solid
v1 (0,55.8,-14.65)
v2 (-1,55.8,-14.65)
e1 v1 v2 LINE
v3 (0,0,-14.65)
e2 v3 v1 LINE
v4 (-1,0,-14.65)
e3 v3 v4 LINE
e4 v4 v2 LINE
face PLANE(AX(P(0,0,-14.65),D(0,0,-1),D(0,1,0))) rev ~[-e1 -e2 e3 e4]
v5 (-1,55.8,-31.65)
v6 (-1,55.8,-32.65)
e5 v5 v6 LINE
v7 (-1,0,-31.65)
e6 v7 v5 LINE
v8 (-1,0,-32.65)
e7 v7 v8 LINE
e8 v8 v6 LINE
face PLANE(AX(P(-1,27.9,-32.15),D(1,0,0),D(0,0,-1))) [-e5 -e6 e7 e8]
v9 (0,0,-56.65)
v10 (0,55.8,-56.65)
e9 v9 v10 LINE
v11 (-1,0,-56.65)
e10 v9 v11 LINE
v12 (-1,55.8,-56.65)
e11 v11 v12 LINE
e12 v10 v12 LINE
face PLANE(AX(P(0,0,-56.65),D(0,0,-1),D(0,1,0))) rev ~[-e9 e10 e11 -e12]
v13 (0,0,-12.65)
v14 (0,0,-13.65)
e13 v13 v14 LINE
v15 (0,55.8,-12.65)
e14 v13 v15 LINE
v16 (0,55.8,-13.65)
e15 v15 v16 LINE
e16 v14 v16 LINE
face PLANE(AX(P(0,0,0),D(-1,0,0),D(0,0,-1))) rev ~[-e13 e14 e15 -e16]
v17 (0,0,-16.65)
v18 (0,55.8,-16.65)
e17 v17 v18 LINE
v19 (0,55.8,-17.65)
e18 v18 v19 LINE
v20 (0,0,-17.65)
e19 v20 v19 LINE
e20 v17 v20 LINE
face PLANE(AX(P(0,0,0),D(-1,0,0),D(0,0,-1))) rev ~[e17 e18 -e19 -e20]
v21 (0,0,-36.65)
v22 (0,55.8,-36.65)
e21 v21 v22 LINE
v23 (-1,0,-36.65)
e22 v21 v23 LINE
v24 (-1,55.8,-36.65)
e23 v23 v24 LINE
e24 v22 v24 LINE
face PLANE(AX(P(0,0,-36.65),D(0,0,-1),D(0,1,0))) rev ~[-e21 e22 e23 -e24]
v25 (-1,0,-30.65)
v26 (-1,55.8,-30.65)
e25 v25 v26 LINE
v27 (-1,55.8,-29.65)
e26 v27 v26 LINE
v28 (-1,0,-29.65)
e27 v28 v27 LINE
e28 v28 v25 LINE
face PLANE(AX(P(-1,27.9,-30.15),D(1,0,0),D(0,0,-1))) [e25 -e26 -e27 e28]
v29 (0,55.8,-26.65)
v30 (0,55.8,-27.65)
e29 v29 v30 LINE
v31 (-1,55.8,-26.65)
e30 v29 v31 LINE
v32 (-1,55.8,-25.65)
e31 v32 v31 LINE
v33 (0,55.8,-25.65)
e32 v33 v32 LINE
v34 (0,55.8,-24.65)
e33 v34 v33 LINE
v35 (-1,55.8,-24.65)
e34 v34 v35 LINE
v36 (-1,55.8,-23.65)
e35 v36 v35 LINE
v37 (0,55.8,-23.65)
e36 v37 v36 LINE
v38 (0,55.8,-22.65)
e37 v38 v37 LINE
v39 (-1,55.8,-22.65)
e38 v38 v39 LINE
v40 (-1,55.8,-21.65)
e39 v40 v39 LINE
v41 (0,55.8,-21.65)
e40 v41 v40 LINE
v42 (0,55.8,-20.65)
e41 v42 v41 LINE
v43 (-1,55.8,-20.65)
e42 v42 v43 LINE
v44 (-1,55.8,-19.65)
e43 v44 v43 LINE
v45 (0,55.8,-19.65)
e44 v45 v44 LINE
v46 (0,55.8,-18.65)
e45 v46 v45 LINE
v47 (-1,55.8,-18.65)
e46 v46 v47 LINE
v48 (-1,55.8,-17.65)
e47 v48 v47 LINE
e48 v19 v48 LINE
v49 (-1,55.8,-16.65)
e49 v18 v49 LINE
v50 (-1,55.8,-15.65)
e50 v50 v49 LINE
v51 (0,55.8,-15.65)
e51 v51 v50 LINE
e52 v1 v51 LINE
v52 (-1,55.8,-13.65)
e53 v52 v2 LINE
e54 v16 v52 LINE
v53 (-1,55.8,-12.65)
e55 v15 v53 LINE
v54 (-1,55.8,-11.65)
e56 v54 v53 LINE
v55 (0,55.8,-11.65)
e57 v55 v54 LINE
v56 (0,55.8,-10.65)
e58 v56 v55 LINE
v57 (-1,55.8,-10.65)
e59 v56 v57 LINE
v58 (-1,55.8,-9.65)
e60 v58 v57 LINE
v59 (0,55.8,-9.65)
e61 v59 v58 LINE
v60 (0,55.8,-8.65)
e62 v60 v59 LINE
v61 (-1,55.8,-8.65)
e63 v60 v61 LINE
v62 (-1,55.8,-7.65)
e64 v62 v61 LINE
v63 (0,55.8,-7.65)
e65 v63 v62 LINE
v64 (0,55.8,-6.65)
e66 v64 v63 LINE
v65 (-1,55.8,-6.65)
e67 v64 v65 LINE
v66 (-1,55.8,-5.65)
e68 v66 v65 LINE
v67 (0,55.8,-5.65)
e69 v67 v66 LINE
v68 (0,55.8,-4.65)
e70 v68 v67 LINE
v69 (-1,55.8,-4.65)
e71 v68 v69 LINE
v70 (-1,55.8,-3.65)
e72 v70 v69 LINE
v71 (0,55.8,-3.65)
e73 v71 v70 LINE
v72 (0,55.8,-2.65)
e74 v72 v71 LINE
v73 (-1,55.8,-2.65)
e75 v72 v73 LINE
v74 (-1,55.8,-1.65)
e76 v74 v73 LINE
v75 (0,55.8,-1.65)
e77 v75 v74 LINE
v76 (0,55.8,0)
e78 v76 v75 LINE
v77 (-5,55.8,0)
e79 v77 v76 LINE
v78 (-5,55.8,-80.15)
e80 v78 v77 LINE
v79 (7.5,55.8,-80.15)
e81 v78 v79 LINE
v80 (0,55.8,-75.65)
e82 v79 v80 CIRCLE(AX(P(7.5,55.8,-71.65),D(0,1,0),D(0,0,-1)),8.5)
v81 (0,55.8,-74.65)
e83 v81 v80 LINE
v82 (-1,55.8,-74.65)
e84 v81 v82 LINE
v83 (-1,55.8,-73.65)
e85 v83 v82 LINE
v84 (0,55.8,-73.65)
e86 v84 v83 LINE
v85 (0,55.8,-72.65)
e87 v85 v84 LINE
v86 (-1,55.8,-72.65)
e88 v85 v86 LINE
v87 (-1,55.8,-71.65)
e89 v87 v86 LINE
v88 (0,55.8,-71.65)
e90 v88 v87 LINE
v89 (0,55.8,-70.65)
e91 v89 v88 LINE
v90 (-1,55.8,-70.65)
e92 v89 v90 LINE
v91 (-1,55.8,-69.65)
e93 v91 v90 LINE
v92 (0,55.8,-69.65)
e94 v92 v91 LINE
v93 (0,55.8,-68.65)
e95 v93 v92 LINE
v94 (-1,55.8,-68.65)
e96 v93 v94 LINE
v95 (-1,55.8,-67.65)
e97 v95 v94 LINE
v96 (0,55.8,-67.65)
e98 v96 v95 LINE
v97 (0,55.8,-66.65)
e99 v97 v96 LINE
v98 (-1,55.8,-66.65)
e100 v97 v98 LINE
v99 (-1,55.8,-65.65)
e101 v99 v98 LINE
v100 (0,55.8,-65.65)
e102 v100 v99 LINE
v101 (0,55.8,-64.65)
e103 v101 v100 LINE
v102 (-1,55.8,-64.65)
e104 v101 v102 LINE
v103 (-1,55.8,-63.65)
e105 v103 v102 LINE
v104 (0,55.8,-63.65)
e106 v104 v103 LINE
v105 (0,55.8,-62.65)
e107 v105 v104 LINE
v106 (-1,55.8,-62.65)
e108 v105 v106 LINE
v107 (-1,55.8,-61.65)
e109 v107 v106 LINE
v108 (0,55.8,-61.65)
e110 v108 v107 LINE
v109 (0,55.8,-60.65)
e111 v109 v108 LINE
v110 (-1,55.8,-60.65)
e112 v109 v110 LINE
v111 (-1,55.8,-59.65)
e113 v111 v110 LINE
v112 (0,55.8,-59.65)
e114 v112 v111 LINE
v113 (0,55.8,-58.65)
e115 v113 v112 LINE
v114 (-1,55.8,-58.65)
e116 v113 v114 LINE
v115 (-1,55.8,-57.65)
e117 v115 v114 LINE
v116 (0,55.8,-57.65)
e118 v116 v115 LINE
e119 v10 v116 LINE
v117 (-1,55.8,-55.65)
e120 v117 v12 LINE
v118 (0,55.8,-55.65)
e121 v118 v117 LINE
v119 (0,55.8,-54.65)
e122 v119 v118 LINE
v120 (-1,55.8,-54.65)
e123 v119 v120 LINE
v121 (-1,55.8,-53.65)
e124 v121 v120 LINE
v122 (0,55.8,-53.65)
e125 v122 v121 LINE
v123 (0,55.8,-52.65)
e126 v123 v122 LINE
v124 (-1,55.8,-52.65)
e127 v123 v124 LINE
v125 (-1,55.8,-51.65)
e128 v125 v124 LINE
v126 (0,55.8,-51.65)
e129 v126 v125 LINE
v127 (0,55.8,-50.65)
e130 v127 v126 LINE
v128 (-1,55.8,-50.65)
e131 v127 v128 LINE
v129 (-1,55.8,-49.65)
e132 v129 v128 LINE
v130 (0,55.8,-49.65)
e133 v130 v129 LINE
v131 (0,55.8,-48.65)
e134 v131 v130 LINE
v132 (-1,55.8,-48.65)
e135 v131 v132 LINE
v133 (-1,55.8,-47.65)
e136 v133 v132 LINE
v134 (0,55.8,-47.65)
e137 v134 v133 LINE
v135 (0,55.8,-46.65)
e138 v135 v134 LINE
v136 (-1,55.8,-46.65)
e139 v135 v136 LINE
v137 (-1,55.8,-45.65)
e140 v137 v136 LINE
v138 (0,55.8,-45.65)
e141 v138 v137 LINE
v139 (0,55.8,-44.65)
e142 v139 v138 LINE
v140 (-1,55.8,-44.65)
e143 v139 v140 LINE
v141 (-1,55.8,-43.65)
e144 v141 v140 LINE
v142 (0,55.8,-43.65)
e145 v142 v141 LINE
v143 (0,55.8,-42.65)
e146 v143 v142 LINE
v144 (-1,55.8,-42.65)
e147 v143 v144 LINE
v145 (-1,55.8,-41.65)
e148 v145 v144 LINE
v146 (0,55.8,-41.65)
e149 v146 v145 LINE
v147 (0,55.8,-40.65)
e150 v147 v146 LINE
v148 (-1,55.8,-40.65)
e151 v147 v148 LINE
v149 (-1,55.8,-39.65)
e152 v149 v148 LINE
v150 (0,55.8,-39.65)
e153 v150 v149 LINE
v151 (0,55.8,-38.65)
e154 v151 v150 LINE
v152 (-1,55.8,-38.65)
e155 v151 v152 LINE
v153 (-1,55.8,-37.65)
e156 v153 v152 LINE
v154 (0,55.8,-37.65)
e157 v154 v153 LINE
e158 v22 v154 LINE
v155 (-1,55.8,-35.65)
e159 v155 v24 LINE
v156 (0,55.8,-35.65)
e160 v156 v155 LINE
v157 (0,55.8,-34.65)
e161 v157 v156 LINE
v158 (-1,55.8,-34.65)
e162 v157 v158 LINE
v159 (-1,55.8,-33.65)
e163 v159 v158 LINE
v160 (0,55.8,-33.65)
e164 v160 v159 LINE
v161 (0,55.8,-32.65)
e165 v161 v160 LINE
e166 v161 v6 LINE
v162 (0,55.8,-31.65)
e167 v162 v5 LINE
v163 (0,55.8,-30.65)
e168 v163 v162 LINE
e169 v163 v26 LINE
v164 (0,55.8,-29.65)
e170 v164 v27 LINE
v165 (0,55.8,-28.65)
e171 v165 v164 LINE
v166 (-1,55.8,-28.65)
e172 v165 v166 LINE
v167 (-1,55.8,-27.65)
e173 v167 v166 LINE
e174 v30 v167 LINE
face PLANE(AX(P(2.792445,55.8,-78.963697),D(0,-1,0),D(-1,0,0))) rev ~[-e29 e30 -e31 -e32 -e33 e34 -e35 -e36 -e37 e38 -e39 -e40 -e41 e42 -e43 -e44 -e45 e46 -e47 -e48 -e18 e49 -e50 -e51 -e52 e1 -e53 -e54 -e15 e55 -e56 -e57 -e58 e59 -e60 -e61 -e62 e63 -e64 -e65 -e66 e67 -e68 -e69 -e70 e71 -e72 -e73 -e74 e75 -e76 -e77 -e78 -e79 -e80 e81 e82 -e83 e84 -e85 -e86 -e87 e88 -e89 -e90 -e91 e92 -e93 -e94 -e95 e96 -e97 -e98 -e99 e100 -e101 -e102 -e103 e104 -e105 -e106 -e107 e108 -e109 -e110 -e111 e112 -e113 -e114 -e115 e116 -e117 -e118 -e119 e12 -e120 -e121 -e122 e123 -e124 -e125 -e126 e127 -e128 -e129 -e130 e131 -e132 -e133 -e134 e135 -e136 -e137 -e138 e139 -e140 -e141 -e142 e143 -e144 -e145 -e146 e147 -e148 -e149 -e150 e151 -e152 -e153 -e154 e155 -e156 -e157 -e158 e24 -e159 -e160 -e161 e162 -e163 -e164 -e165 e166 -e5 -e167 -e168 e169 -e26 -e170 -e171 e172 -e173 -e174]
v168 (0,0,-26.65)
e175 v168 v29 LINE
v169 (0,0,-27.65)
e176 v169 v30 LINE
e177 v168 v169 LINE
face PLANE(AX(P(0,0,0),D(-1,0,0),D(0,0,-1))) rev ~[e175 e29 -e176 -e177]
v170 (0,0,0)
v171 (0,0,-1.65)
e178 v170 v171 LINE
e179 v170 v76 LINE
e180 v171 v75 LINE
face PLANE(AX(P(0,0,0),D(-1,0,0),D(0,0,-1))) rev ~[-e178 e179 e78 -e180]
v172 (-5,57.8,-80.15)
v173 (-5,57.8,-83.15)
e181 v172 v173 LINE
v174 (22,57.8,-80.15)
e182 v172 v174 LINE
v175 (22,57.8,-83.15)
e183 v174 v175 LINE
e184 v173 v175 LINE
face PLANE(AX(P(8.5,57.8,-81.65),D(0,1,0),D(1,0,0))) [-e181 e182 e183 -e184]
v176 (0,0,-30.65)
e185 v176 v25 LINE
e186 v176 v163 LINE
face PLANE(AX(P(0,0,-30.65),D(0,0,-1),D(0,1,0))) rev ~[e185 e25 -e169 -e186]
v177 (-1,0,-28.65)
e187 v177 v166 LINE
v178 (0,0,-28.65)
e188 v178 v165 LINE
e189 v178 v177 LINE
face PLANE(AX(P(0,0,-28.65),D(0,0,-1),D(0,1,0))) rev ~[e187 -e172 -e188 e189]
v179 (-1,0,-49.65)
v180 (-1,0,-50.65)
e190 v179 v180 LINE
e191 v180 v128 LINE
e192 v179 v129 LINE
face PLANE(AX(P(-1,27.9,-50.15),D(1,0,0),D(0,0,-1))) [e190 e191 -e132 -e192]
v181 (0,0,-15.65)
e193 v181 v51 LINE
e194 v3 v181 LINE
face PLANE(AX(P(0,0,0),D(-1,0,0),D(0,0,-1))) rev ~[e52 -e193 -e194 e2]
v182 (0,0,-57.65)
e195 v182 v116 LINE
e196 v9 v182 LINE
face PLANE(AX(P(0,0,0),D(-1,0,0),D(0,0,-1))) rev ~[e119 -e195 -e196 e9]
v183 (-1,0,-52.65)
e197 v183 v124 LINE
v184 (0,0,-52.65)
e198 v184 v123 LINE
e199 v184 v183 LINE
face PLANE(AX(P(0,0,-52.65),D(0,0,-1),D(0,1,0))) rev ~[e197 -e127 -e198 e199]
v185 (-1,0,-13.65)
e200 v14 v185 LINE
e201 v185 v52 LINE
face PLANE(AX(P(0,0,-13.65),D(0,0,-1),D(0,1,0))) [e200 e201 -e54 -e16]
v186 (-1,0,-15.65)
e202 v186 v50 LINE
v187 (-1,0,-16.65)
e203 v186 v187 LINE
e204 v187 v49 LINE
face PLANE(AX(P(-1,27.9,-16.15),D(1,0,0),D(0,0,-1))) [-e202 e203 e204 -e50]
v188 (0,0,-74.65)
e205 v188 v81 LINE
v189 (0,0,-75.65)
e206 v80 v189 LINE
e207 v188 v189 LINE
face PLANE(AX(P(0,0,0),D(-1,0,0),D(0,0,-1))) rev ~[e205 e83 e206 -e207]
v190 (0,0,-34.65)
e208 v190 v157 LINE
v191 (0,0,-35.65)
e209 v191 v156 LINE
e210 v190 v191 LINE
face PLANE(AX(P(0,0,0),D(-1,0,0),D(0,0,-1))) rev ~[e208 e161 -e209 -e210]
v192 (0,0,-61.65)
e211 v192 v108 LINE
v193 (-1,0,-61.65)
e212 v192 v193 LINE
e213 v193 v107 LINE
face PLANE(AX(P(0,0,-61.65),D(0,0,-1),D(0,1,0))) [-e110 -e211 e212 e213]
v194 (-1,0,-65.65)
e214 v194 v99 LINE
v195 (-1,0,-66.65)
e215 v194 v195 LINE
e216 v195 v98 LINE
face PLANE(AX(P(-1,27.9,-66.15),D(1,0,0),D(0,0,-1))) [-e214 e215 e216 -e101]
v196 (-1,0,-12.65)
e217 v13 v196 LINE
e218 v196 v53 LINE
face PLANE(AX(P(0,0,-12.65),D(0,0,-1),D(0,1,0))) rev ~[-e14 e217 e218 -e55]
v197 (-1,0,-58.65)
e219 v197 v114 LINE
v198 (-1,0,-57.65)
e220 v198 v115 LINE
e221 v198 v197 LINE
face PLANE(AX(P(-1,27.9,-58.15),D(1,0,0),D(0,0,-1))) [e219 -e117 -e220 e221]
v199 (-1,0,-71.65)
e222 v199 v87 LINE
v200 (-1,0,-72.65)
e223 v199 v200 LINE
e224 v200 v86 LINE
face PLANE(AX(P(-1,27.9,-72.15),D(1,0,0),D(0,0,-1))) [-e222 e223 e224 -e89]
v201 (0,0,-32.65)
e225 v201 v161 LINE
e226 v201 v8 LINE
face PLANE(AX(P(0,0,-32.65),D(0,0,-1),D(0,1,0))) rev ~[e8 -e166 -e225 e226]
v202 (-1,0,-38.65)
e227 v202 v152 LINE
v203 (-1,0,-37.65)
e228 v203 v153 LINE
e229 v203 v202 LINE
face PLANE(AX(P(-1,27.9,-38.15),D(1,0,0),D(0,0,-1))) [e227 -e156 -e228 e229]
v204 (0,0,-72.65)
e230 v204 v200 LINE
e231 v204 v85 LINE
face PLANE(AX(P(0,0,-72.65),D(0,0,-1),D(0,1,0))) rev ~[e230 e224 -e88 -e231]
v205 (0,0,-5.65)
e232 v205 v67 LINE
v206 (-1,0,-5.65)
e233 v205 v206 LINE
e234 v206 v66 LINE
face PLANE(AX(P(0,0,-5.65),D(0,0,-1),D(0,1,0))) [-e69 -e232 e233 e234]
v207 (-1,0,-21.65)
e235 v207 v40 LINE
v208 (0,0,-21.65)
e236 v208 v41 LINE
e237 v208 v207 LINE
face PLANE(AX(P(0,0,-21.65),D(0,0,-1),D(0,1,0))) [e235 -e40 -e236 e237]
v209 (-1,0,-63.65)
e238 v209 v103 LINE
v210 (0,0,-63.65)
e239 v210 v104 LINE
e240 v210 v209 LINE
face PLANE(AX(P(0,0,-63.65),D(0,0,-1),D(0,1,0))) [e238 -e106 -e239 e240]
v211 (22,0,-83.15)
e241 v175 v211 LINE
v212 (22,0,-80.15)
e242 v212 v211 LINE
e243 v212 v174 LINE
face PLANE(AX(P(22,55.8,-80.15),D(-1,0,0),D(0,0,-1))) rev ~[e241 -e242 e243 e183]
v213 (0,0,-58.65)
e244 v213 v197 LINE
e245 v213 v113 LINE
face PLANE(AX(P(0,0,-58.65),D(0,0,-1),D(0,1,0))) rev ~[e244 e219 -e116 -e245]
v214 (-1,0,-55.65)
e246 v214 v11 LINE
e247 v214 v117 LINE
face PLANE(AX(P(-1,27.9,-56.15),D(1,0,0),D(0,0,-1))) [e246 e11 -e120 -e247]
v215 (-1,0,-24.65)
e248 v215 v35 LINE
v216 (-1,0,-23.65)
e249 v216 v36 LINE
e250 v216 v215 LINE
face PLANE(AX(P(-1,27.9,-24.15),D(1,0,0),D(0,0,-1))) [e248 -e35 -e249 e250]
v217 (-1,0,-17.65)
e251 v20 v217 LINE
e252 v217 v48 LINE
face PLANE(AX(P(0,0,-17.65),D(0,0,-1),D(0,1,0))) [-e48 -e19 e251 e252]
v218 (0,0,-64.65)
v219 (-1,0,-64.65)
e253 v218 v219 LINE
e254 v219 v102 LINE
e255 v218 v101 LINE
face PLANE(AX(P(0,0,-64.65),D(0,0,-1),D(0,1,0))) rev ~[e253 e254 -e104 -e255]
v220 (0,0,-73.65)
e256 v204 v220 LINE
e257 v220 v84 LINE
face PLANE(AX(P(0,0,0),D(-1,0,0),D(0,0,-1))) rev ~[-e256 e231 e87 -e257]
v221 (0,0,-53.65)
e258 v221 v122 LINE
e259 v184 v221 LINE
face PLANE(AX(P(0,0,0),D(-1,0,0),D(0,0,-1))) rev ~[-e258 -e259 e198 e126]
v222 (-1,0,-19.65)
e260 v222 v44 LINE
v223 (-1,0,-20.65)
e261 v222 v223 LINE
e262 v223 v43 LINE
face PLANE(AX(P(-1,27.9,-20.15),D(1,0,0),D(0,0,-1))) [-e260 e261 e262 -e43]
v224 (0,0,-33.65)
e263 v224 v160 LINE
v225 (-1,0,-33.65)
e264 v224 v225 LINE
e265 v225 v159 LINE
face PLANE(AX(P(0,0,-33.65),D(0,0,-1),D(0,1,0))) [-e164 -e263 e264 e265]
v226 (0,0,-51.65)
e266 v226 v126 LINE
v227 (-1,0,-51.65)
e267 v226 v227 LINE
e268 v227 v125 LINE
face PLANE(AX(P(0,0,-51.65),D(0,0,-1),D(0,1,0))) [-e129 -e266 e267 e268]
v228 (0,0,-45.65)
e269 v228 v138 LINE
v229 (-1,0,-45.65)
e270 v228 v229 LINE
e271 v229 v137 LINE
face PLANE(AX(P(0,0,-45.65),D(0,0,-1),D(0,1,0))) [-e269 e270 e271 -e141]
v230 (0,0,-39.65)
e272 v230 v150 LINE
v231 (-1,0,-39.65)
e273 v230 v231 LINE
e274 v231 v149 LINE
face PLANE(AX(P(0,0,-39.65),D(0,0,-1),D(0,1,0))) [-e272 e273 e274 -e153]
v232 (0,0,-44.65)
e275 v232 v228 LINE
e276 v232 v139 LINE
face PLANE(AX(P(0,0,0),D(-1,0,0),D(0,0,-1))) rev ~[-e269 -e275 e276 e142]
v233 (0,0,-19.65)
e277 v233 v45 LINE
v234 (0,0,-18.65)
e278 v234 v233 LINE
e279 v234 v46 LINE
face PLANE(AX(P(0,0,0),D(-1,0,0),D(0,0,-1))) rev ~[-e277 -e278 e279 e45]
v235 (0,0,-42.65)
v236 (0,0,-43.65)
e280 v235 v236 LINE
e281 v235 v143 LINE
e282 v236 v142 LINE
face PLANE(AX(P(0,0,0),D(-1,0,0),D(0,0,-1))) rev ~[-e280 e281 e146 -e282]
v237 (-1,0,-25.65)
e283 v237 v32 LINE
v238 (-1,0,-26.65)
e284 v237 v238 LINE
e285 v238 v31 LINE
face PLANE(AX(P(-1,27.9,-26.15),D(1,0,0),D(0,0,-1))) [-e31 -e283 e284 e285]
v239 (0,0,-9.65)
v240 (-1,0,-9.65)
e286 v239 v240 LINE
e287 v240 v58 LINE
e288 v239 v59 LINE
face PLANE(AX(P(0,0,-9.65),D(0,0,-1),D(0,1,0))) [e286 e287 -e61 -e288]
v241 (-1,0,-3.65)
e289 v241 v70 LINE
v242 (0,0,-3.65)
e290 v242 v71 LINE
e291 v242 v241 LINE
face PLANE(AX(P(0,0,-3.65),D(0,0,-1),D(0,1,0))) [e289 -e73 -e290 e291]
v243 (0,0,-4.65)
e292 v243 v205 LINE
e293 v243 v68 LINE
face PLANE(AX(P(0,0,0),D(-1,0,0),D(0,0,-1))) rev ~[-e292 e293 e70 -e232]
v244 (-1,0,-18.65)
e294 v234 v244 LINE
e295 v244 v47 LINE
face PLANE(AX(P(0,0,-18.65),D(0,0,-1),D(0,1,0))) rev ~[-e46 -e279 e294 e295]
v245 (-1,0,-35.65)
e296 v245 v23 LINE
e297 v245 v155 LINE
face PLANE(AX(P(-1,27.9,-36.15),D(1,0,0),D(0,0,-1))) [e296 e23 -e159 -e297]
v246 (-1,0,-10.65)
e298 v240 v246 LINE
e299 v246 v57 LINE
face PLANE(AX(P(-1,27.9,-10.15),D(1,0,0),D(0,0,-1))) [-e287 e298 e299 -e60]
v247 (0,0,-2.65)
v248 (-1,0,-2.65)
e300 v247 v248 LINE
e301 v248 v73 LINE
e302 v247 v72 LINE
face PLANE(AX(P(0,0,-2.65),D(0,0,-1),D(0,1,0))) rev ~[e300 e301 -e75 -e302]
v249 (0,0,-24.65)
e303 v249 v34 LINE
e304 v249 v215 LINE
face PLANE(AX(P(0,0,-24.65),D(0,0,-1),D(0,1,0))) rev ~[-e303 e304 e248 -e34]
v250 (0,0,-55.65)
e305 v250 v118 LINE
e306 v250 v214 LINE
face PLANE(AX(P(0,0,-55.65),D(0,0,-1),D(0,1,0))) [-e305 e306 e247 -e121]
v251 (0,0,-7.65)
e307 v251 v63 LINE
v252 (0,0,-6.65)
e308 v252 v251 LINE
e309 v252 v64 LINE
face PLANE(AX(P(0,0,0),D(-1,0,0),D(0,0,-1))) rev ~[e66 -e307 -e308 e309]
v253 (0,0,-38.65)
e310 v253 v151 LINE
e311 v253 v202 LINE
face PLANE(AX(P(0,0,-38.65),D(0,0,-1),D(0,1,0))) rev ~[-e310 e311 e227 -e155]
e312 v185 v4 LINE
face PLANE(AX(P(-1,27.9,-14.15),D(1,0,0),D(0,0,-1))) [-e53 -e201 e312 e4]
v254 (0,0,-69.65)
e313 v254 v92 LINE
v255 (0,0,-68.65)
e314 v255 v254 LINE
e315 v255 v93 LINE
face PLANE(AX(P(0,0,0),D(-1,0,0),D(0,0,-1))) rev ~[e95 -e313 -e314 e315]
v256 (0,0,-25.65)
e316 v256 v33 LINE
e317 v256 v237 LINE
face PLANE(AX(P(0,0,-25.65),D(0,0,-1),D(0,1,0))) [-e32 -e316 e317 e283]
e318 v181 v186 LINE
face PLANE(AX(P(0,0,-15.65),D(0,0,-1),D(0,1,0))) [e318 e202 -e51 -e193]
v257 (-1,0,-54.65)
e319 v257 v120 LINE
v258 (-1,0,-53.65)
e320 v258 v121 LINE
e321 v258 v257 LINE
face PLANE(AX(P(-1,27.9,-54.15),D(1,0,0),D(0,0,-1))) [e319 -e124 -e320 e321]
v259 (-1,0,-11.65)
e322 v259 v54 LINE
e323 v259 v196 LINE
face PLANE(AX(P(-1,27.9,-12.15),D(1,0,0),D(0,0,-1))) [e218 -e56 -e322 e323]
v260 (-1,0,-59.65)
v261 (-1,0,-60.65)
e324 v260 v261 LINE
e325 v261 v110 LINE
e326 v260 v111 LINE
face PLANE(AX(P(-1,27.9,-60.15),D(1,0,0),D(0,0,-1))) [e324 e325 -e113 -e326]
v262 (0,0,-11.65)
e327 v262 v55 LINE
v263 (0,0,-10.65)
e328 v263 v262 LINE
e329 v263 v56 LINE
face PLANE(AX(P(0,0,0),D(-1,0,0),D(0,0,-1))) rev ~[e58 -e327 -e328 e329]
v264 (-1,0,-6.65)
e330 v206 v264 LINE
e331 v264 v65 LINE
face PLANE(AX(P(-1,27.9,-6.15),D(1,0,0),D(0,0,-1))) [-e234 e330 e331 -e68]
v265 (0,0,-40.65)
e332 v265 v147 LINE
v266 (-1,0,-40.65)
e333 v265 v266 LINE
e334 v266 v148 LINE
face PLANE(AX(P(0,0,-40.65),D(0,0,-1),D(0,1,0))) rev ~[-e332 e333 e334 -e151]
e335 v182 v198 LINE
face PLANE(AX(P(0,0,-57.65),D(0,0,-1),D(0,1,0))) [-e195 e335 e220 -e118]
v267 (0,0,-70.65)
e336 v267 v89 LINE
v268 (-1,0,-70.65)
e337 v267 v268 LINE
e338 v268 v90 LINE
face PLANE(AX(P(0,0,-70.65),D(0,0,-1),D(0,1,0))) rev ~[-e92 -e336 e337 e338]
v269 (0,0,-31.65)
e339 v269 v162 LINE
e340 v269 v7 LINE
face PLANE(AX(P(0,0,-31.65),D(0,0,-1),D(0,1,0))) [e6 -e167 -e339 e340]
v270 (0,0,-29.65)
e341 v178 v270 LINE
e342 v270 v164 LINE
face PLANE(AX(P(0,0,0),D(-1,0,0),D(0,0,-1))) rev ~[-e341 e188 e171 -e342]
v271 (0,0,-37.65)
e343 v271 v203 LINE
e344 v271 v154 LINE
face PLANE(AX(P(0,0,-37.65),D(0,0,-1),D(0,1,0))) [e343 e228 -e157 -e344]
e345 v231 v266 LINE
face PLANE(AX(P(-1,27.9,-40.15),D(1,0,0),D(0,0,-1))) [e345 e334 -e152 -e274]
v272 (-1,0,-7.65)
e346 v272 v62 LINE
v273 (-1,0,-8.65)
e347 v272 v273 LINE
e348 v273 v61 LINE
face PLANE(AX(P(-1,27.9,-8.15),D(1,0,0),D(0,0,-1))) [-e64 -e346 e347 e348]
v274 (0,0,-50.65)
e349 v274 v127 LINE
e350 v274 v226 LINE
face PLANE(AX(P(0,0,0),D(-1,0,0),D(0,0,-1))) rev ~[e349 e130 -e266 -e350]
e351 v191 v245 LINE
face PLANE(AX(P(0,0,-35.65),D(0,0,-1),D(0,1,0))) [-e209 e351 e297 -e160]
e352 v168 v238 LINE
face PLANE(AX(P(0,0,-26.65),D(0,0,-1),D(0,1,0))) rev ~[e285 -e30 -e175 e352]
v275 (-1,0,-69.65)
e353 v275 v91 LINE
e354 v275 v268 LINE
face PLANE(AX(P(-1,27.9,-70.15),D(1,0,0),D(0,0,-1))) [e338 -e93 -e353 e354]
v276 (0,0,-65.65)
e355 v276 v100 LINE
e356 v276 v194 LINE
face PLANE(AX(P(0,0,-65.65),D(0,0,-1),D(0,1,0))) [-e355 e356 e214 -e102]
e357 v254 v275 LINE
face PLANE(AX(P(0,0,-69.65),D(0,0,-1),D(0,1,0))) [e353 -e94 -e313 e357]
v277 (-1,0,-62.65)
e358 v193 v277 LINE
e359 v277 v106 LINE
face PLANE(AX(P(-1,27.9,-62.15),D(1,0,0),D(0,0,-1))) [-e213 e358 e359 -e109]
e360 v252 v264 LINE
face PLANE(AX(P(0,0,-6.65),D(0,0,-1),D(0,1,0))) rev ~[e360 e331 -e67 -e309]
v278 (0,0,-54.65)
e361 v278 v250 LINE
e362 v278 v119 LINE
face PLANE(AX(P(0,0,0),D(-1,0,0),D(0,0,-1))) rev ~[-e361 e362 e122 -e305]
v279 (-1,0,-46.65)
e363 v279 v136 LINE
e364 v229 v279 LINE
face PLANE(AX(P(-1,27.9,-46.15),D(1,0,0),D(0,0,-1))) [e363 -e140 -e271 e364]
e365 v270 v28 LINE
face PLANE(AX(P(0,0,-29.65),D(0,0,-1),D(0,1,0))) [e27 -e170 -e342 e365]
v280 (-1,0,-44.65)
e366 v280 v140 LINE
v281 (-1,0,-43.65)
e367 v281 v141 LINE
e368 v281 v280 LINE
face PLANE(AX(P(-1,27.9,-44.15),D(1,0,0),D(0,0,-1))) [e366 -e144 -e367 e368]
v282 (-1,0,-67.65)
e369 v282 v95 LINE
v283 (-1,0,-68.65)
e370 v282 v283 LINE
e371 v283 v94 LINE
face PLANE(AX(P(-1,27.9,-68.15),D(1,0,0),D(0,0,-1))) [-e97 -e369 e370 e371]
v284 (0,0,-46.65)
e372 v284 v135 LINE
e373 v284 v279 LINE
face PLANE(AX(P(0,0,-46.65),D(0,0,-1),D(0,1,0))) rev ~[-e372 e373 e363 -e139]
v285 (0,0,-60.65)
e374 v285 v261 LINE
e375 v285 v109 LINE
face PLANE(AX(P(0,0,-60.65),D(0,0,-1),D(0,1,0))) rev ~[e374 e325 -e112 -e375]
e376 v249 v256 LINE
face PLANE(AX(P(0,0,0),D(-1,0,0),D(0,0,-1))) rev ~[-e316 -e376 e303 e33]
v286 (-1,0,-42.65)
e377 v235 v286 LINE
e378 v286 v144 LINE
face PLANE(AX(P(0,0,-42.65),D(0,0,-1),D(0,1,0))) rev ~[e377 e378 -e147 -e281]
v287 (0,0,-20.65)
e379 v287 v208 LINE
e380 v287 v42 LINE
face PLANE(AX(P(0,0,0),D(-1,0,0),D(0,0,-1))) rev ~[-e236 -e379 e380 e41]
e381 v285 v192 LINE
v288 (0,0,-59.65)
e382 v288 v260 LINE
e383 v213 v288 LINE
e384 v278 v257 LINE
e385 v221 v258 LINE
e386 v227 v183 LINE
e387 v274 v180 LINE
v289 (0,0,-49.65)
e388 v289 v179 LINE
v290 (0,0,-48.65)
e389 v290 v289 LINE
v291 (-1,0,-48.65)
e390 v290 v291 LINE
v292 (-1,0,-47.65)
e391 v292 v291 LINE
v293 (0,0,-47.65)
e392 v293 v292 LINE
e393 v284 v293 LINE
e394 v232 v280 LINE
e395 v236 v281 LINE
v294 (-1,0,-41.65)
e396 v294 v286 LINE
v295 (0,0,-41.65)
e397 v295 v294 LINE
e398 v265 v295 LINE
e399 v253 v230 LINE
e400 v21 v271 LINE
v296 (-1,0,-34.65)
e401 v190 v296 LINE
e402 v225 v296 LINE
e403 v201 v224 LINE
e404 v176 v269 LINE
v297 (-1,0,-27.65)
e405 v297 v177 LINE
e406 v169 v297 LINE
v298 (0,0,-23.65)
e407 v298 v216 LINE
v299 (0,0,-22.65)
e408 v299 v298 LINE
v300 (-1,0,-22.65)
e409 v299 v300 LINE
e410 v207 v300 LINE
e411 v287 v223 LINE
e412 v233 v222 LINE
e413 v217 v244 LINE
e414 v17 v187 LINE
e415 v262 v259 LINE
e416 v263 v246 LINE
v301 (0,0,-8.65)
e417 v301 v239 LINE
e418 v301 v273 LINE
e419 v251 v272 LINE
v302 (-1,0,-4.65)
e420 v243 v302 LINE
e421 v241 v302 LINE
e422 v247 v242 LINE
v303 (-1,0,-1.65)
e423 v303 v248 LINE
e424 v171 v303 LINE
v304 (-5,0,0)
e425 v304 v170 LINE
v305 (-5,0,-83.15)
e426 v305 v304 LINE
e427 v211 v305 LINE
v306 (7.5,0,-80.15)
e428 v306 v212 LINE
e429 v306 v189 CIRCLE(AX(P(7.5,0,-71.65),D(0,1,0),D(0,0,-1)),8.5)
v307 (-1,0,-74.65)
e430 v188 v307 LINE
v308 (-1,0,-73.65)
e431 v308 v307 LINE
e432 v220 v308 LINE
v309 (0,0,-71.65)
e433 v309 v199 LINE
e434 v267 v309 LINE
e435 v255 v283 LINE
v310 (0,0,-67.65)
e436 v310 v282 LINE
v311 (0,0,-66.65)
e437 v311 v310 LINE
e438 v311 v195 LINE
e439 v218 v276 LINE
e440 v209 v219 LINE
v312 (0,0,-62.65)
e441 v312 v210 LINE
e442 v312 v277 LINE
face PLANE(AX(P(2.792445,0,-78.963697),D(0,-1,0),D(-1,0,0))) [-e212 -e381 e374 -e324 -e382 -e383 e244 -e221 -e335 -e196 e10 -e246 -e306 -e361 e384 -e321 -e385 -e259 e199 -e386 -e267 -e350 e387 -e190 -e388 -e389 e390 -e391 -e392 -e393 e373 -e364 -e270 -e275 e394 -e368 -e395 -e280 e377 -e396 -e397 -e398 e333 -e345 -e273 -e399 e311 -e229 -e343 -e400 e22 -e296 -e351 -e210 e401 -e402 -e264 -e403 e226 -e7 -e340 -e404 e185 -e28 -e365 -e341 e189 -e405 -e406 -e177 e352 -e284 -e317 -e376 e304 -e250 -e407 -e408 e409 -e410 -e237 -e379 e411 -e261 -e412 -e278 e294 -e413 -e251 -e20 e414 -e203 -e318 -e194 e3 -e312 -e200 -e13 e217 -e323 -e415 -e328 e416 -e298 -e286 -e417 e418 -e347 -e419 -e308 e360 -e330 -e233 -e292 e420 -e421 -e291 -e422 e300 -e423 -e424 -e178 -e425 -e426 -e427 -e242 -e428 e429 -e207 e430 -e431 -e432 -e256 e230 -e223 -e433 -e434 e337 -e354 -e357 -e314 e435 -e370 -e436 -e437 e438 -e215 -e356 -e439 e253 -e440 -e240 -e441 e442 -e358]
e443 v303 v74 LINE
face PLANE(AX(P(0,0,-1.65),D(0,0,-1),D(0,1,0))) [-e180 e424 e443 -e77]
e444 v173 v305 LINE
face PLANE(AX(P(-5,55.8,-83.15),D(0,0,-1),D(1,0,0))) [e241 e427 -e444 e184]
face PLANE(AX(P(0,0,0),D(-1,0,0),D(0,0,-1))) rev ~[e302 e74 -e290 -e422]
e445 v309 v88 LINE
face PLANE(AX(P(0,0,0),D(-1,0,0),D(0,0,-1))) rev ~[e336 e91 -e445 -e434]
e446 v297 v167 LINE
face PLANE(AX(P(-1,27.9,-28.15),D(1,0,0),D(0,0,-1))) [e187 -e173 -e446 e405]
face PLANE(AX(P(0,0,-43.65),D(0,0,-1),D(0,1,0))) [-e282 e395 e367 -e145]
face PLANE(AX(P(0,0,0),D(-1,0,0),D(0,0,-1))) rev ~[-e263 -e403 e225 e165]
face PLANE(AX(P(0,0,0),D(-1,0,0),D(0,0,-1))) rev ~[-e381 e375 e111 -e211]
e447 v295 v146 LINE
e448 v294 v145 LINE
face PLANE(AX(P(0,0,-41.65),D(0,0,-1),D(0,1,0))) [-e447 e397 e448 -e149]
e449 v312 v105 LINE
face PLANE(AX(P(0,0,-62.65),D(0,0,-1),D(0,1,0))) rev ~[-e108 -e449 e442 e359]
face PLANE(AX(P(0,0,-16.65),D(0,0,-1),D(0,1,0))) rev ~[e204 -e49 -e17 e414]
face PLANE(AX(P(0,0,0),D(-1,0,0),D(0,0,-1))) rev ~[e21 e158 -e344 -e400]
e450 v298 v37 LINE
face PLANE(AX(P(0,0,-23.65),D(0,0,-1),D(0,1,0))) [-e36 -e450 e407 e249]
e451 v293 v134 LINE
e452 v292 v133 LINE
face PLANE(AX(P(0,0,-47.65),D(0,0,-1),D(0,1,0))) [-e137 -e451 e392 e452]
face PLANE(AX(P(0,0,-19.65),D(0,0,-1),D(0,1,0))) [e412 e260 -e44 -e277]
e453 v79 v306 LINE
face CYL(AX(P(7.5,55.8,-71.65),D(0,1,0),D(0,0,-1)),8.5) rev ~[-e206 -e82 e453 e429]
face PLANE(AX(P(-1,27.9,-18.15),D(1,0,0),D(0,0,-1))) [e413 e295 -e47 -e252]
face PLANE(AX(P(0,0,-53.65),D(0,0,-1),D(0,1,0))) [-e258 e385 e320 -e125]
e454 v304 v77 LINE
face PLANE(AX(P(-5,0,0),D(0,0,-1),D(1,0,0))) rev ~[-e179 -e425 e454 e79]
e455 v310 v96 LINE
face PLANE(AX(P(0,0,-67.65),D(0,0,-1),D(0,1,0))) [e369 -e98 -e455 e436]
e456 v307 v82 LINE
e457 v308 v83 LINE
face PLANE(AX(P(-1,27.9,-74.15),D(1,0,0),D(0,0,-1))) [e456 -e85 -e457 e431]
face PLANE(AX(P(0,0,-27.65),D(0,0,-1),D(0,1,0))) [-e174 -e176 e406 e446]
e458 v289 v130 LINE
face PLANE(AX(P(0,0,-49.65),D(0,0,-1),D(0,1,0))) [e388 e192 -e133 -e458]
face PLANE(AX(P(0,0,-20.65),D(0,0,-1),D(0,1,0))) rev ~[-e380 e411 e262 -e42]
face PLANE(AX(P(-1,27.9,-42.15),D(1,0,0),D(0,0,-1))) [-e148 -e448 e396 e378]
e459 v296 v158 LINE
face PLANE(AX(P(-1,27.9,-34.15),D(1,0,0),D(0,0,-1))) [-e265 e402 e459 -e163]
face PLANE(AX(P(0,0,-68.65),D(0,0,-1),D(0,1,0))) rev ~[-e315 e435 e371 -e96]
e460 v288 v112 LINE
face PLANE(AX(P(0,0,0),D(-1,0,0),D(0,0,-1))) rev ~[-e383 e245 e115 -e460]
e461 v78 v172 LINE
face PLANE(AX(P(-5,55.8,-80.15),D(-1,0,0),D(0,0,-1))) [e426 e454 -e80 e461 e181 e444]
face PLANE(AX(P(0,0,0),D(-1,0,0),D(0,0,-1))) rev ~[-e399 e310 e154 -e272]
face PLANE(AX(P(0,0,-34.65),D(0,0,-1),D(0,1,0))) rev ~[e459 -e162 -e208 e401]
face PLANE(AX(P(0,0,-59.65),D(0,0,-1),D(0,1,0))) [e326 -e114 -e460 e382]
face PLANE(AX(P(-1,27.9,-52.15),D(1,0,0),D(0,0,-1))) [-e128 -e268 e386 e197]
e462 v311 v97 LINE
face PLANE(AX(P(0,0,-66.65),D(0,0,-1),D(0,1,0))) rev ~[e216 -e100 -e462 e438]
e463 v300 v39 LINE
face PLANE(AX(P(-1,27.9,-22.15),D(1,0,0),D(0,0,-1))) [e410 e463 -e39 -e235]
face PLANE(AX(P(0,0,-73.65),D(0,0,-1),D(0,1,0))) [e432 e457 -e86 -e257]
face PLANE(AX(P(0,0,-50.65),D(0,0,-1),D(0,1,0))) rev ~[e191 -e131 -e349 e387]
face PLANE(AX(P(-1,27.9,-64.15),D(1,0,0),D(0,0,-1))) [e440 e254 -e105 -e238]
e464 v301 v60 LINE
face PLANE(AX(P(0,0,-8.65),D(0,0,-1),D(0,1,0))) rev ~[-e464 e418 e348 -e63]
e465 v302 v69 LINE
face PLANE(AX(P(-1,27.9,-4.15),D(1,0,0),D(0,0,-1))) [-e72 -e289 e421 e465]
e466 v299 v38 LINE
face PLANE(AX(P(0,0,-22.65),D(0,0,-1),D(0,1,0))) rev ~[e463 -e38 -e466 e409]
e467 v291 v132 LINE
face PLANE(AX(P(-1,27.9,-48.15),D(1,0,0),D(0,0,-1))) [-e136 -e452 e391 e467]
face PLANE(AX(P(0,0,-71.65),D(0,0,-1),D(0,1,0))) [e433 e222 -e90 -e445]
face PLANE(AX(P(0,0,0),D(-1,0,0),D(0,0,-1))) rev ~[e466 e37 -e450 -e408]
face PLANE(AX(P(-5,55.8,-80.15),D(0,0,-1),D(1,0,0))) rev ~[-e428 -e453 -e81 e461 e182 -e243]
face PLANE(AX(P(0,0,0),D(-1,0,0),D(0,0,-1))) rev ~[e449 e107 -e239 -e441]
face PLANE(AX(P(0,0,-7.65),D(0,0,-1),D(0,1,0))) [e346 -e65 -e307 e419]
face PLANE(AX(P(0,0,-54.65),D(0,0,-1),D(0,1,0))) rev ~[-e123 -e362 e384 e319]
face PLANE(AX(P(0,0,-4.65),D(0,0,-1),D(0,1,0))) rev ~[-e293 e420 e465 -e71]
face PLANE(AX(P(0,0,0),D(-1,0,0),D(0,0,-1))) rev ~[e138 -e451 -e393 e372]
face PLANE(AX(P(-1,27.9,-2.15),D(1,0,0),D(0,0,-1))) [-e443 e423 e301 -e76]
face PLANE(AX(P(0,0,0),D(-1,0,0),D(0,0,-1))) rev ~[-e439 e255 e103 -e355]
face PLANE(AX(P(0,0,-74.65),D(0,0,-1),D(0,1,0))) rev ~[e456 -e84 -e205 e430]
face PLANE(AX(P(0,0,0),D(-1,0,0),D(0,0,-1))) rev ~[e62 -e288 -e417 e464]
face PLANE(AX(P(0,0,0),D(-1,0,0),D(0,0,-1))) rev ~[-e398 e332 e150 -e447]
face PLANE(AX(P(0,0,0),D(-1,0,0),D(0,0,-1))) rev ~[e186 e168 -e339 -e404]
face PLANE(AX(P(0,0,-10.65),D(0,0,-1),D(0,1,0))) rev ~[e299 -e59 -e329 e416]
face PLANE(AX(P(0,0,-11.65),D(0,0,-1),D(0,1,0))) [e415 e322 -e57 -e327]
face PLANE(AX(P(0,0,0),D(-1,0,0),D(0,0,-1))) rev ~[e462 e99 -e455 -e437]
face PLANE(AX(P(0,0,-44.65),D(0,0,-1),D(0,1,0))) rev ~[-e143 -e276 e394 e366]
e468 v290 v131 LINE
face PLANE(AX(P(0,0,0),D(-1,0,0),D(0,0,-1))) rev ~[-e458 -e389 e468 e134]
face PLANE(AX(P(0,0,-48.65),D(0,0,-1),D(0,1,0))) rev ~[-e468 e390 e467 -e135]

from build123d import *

# Parameters (mm, degrees)
BOSS_EXTRUDE1_DEPTH = 55.8
BOSS_EXTRUDE2_DEPTH = 55.8
SKETCH5_W           = 1
SKETCH5_H           = 55.8
CUT_EXTRUDE3_DEPTH  = 1
LPATTERN1_COUNT     = 37
LPATTERN1_PITCH     = 2
SKETCH6_W           = 27
SKETCH6_H           = 3
BOSS_EXTRUDE3_DEPTH = 2


with BuildPart() as part:
    # Sketch1 → Boss-Extrude1 (new body)
    with BuildSketch(Plane(origin=(0, 0, 0), x_dir=(1, 0, 0), z_dir=(0, 1, 0))):
        Polygon((0, 0), (0, 80.15), (22, 80.15), (22, 83.15), (0, 83.15), (-5, 83.15), (-5, 0), align=None)
    extrude(amount=BOSS_EXTRUDE1_DEPTH)

    # Sketch2 → Boss-Extrude2 (add)
    with BuildSketch(Plane(origin=(0, 55.8, 0), x_dir=(1, 0, 0), z_dir=(0, 1, 0))):
        with BuildLine():
            Line((0, 80.15), (7.5, 80.15))
            ThreePointArc((7.5, 80.15), (3.126786079, 78.938689869), (0, 75.65))
            Line((0, 75.65), (0, 80.15))
        make_face()
    extrude(amount=-BOSS_EXTRUDE2_DEPTH)

    # Sketch5 → Cut-Extrude3 (cut)
    with BuildSketch(Plane(origin=(0, 0, 0), x_dir=(0, 0, -1), z_dir=(1, 0, 0))):
        with Locations((74.15, 27.9)):
            Rectangle(SKETCH5_W, SKETCH5_H)
    cut_extrude3 = extrude(amount=-CUT_EXTRUDE3_DEPTH, mode=Mode.SUBTRACT)

    # LPattern1: Cut-Extrude3 ×37
    with Locations(*[(0, 0, i * LPATTERN1_PITCH) for i in range(1, LPATTERN1_COUNT)]):
        add(cut_extrude3, mode=Mode.SUBTRACT)

    # Sketch6 → Boss-Extrude3 (add)
    with BuildSketch(Plane(origin=(0, 55.8, 0), x_dir=(1, 0, 0), z_dir=(0, 1, 0))):
        with Locations((8.5, 81.65)):
            Rectangle(SKETCH6_W, SKETCH6_H)
    extrude(amount=BOSS_EXTRUDE3_DEPTH)


solid = part.part
